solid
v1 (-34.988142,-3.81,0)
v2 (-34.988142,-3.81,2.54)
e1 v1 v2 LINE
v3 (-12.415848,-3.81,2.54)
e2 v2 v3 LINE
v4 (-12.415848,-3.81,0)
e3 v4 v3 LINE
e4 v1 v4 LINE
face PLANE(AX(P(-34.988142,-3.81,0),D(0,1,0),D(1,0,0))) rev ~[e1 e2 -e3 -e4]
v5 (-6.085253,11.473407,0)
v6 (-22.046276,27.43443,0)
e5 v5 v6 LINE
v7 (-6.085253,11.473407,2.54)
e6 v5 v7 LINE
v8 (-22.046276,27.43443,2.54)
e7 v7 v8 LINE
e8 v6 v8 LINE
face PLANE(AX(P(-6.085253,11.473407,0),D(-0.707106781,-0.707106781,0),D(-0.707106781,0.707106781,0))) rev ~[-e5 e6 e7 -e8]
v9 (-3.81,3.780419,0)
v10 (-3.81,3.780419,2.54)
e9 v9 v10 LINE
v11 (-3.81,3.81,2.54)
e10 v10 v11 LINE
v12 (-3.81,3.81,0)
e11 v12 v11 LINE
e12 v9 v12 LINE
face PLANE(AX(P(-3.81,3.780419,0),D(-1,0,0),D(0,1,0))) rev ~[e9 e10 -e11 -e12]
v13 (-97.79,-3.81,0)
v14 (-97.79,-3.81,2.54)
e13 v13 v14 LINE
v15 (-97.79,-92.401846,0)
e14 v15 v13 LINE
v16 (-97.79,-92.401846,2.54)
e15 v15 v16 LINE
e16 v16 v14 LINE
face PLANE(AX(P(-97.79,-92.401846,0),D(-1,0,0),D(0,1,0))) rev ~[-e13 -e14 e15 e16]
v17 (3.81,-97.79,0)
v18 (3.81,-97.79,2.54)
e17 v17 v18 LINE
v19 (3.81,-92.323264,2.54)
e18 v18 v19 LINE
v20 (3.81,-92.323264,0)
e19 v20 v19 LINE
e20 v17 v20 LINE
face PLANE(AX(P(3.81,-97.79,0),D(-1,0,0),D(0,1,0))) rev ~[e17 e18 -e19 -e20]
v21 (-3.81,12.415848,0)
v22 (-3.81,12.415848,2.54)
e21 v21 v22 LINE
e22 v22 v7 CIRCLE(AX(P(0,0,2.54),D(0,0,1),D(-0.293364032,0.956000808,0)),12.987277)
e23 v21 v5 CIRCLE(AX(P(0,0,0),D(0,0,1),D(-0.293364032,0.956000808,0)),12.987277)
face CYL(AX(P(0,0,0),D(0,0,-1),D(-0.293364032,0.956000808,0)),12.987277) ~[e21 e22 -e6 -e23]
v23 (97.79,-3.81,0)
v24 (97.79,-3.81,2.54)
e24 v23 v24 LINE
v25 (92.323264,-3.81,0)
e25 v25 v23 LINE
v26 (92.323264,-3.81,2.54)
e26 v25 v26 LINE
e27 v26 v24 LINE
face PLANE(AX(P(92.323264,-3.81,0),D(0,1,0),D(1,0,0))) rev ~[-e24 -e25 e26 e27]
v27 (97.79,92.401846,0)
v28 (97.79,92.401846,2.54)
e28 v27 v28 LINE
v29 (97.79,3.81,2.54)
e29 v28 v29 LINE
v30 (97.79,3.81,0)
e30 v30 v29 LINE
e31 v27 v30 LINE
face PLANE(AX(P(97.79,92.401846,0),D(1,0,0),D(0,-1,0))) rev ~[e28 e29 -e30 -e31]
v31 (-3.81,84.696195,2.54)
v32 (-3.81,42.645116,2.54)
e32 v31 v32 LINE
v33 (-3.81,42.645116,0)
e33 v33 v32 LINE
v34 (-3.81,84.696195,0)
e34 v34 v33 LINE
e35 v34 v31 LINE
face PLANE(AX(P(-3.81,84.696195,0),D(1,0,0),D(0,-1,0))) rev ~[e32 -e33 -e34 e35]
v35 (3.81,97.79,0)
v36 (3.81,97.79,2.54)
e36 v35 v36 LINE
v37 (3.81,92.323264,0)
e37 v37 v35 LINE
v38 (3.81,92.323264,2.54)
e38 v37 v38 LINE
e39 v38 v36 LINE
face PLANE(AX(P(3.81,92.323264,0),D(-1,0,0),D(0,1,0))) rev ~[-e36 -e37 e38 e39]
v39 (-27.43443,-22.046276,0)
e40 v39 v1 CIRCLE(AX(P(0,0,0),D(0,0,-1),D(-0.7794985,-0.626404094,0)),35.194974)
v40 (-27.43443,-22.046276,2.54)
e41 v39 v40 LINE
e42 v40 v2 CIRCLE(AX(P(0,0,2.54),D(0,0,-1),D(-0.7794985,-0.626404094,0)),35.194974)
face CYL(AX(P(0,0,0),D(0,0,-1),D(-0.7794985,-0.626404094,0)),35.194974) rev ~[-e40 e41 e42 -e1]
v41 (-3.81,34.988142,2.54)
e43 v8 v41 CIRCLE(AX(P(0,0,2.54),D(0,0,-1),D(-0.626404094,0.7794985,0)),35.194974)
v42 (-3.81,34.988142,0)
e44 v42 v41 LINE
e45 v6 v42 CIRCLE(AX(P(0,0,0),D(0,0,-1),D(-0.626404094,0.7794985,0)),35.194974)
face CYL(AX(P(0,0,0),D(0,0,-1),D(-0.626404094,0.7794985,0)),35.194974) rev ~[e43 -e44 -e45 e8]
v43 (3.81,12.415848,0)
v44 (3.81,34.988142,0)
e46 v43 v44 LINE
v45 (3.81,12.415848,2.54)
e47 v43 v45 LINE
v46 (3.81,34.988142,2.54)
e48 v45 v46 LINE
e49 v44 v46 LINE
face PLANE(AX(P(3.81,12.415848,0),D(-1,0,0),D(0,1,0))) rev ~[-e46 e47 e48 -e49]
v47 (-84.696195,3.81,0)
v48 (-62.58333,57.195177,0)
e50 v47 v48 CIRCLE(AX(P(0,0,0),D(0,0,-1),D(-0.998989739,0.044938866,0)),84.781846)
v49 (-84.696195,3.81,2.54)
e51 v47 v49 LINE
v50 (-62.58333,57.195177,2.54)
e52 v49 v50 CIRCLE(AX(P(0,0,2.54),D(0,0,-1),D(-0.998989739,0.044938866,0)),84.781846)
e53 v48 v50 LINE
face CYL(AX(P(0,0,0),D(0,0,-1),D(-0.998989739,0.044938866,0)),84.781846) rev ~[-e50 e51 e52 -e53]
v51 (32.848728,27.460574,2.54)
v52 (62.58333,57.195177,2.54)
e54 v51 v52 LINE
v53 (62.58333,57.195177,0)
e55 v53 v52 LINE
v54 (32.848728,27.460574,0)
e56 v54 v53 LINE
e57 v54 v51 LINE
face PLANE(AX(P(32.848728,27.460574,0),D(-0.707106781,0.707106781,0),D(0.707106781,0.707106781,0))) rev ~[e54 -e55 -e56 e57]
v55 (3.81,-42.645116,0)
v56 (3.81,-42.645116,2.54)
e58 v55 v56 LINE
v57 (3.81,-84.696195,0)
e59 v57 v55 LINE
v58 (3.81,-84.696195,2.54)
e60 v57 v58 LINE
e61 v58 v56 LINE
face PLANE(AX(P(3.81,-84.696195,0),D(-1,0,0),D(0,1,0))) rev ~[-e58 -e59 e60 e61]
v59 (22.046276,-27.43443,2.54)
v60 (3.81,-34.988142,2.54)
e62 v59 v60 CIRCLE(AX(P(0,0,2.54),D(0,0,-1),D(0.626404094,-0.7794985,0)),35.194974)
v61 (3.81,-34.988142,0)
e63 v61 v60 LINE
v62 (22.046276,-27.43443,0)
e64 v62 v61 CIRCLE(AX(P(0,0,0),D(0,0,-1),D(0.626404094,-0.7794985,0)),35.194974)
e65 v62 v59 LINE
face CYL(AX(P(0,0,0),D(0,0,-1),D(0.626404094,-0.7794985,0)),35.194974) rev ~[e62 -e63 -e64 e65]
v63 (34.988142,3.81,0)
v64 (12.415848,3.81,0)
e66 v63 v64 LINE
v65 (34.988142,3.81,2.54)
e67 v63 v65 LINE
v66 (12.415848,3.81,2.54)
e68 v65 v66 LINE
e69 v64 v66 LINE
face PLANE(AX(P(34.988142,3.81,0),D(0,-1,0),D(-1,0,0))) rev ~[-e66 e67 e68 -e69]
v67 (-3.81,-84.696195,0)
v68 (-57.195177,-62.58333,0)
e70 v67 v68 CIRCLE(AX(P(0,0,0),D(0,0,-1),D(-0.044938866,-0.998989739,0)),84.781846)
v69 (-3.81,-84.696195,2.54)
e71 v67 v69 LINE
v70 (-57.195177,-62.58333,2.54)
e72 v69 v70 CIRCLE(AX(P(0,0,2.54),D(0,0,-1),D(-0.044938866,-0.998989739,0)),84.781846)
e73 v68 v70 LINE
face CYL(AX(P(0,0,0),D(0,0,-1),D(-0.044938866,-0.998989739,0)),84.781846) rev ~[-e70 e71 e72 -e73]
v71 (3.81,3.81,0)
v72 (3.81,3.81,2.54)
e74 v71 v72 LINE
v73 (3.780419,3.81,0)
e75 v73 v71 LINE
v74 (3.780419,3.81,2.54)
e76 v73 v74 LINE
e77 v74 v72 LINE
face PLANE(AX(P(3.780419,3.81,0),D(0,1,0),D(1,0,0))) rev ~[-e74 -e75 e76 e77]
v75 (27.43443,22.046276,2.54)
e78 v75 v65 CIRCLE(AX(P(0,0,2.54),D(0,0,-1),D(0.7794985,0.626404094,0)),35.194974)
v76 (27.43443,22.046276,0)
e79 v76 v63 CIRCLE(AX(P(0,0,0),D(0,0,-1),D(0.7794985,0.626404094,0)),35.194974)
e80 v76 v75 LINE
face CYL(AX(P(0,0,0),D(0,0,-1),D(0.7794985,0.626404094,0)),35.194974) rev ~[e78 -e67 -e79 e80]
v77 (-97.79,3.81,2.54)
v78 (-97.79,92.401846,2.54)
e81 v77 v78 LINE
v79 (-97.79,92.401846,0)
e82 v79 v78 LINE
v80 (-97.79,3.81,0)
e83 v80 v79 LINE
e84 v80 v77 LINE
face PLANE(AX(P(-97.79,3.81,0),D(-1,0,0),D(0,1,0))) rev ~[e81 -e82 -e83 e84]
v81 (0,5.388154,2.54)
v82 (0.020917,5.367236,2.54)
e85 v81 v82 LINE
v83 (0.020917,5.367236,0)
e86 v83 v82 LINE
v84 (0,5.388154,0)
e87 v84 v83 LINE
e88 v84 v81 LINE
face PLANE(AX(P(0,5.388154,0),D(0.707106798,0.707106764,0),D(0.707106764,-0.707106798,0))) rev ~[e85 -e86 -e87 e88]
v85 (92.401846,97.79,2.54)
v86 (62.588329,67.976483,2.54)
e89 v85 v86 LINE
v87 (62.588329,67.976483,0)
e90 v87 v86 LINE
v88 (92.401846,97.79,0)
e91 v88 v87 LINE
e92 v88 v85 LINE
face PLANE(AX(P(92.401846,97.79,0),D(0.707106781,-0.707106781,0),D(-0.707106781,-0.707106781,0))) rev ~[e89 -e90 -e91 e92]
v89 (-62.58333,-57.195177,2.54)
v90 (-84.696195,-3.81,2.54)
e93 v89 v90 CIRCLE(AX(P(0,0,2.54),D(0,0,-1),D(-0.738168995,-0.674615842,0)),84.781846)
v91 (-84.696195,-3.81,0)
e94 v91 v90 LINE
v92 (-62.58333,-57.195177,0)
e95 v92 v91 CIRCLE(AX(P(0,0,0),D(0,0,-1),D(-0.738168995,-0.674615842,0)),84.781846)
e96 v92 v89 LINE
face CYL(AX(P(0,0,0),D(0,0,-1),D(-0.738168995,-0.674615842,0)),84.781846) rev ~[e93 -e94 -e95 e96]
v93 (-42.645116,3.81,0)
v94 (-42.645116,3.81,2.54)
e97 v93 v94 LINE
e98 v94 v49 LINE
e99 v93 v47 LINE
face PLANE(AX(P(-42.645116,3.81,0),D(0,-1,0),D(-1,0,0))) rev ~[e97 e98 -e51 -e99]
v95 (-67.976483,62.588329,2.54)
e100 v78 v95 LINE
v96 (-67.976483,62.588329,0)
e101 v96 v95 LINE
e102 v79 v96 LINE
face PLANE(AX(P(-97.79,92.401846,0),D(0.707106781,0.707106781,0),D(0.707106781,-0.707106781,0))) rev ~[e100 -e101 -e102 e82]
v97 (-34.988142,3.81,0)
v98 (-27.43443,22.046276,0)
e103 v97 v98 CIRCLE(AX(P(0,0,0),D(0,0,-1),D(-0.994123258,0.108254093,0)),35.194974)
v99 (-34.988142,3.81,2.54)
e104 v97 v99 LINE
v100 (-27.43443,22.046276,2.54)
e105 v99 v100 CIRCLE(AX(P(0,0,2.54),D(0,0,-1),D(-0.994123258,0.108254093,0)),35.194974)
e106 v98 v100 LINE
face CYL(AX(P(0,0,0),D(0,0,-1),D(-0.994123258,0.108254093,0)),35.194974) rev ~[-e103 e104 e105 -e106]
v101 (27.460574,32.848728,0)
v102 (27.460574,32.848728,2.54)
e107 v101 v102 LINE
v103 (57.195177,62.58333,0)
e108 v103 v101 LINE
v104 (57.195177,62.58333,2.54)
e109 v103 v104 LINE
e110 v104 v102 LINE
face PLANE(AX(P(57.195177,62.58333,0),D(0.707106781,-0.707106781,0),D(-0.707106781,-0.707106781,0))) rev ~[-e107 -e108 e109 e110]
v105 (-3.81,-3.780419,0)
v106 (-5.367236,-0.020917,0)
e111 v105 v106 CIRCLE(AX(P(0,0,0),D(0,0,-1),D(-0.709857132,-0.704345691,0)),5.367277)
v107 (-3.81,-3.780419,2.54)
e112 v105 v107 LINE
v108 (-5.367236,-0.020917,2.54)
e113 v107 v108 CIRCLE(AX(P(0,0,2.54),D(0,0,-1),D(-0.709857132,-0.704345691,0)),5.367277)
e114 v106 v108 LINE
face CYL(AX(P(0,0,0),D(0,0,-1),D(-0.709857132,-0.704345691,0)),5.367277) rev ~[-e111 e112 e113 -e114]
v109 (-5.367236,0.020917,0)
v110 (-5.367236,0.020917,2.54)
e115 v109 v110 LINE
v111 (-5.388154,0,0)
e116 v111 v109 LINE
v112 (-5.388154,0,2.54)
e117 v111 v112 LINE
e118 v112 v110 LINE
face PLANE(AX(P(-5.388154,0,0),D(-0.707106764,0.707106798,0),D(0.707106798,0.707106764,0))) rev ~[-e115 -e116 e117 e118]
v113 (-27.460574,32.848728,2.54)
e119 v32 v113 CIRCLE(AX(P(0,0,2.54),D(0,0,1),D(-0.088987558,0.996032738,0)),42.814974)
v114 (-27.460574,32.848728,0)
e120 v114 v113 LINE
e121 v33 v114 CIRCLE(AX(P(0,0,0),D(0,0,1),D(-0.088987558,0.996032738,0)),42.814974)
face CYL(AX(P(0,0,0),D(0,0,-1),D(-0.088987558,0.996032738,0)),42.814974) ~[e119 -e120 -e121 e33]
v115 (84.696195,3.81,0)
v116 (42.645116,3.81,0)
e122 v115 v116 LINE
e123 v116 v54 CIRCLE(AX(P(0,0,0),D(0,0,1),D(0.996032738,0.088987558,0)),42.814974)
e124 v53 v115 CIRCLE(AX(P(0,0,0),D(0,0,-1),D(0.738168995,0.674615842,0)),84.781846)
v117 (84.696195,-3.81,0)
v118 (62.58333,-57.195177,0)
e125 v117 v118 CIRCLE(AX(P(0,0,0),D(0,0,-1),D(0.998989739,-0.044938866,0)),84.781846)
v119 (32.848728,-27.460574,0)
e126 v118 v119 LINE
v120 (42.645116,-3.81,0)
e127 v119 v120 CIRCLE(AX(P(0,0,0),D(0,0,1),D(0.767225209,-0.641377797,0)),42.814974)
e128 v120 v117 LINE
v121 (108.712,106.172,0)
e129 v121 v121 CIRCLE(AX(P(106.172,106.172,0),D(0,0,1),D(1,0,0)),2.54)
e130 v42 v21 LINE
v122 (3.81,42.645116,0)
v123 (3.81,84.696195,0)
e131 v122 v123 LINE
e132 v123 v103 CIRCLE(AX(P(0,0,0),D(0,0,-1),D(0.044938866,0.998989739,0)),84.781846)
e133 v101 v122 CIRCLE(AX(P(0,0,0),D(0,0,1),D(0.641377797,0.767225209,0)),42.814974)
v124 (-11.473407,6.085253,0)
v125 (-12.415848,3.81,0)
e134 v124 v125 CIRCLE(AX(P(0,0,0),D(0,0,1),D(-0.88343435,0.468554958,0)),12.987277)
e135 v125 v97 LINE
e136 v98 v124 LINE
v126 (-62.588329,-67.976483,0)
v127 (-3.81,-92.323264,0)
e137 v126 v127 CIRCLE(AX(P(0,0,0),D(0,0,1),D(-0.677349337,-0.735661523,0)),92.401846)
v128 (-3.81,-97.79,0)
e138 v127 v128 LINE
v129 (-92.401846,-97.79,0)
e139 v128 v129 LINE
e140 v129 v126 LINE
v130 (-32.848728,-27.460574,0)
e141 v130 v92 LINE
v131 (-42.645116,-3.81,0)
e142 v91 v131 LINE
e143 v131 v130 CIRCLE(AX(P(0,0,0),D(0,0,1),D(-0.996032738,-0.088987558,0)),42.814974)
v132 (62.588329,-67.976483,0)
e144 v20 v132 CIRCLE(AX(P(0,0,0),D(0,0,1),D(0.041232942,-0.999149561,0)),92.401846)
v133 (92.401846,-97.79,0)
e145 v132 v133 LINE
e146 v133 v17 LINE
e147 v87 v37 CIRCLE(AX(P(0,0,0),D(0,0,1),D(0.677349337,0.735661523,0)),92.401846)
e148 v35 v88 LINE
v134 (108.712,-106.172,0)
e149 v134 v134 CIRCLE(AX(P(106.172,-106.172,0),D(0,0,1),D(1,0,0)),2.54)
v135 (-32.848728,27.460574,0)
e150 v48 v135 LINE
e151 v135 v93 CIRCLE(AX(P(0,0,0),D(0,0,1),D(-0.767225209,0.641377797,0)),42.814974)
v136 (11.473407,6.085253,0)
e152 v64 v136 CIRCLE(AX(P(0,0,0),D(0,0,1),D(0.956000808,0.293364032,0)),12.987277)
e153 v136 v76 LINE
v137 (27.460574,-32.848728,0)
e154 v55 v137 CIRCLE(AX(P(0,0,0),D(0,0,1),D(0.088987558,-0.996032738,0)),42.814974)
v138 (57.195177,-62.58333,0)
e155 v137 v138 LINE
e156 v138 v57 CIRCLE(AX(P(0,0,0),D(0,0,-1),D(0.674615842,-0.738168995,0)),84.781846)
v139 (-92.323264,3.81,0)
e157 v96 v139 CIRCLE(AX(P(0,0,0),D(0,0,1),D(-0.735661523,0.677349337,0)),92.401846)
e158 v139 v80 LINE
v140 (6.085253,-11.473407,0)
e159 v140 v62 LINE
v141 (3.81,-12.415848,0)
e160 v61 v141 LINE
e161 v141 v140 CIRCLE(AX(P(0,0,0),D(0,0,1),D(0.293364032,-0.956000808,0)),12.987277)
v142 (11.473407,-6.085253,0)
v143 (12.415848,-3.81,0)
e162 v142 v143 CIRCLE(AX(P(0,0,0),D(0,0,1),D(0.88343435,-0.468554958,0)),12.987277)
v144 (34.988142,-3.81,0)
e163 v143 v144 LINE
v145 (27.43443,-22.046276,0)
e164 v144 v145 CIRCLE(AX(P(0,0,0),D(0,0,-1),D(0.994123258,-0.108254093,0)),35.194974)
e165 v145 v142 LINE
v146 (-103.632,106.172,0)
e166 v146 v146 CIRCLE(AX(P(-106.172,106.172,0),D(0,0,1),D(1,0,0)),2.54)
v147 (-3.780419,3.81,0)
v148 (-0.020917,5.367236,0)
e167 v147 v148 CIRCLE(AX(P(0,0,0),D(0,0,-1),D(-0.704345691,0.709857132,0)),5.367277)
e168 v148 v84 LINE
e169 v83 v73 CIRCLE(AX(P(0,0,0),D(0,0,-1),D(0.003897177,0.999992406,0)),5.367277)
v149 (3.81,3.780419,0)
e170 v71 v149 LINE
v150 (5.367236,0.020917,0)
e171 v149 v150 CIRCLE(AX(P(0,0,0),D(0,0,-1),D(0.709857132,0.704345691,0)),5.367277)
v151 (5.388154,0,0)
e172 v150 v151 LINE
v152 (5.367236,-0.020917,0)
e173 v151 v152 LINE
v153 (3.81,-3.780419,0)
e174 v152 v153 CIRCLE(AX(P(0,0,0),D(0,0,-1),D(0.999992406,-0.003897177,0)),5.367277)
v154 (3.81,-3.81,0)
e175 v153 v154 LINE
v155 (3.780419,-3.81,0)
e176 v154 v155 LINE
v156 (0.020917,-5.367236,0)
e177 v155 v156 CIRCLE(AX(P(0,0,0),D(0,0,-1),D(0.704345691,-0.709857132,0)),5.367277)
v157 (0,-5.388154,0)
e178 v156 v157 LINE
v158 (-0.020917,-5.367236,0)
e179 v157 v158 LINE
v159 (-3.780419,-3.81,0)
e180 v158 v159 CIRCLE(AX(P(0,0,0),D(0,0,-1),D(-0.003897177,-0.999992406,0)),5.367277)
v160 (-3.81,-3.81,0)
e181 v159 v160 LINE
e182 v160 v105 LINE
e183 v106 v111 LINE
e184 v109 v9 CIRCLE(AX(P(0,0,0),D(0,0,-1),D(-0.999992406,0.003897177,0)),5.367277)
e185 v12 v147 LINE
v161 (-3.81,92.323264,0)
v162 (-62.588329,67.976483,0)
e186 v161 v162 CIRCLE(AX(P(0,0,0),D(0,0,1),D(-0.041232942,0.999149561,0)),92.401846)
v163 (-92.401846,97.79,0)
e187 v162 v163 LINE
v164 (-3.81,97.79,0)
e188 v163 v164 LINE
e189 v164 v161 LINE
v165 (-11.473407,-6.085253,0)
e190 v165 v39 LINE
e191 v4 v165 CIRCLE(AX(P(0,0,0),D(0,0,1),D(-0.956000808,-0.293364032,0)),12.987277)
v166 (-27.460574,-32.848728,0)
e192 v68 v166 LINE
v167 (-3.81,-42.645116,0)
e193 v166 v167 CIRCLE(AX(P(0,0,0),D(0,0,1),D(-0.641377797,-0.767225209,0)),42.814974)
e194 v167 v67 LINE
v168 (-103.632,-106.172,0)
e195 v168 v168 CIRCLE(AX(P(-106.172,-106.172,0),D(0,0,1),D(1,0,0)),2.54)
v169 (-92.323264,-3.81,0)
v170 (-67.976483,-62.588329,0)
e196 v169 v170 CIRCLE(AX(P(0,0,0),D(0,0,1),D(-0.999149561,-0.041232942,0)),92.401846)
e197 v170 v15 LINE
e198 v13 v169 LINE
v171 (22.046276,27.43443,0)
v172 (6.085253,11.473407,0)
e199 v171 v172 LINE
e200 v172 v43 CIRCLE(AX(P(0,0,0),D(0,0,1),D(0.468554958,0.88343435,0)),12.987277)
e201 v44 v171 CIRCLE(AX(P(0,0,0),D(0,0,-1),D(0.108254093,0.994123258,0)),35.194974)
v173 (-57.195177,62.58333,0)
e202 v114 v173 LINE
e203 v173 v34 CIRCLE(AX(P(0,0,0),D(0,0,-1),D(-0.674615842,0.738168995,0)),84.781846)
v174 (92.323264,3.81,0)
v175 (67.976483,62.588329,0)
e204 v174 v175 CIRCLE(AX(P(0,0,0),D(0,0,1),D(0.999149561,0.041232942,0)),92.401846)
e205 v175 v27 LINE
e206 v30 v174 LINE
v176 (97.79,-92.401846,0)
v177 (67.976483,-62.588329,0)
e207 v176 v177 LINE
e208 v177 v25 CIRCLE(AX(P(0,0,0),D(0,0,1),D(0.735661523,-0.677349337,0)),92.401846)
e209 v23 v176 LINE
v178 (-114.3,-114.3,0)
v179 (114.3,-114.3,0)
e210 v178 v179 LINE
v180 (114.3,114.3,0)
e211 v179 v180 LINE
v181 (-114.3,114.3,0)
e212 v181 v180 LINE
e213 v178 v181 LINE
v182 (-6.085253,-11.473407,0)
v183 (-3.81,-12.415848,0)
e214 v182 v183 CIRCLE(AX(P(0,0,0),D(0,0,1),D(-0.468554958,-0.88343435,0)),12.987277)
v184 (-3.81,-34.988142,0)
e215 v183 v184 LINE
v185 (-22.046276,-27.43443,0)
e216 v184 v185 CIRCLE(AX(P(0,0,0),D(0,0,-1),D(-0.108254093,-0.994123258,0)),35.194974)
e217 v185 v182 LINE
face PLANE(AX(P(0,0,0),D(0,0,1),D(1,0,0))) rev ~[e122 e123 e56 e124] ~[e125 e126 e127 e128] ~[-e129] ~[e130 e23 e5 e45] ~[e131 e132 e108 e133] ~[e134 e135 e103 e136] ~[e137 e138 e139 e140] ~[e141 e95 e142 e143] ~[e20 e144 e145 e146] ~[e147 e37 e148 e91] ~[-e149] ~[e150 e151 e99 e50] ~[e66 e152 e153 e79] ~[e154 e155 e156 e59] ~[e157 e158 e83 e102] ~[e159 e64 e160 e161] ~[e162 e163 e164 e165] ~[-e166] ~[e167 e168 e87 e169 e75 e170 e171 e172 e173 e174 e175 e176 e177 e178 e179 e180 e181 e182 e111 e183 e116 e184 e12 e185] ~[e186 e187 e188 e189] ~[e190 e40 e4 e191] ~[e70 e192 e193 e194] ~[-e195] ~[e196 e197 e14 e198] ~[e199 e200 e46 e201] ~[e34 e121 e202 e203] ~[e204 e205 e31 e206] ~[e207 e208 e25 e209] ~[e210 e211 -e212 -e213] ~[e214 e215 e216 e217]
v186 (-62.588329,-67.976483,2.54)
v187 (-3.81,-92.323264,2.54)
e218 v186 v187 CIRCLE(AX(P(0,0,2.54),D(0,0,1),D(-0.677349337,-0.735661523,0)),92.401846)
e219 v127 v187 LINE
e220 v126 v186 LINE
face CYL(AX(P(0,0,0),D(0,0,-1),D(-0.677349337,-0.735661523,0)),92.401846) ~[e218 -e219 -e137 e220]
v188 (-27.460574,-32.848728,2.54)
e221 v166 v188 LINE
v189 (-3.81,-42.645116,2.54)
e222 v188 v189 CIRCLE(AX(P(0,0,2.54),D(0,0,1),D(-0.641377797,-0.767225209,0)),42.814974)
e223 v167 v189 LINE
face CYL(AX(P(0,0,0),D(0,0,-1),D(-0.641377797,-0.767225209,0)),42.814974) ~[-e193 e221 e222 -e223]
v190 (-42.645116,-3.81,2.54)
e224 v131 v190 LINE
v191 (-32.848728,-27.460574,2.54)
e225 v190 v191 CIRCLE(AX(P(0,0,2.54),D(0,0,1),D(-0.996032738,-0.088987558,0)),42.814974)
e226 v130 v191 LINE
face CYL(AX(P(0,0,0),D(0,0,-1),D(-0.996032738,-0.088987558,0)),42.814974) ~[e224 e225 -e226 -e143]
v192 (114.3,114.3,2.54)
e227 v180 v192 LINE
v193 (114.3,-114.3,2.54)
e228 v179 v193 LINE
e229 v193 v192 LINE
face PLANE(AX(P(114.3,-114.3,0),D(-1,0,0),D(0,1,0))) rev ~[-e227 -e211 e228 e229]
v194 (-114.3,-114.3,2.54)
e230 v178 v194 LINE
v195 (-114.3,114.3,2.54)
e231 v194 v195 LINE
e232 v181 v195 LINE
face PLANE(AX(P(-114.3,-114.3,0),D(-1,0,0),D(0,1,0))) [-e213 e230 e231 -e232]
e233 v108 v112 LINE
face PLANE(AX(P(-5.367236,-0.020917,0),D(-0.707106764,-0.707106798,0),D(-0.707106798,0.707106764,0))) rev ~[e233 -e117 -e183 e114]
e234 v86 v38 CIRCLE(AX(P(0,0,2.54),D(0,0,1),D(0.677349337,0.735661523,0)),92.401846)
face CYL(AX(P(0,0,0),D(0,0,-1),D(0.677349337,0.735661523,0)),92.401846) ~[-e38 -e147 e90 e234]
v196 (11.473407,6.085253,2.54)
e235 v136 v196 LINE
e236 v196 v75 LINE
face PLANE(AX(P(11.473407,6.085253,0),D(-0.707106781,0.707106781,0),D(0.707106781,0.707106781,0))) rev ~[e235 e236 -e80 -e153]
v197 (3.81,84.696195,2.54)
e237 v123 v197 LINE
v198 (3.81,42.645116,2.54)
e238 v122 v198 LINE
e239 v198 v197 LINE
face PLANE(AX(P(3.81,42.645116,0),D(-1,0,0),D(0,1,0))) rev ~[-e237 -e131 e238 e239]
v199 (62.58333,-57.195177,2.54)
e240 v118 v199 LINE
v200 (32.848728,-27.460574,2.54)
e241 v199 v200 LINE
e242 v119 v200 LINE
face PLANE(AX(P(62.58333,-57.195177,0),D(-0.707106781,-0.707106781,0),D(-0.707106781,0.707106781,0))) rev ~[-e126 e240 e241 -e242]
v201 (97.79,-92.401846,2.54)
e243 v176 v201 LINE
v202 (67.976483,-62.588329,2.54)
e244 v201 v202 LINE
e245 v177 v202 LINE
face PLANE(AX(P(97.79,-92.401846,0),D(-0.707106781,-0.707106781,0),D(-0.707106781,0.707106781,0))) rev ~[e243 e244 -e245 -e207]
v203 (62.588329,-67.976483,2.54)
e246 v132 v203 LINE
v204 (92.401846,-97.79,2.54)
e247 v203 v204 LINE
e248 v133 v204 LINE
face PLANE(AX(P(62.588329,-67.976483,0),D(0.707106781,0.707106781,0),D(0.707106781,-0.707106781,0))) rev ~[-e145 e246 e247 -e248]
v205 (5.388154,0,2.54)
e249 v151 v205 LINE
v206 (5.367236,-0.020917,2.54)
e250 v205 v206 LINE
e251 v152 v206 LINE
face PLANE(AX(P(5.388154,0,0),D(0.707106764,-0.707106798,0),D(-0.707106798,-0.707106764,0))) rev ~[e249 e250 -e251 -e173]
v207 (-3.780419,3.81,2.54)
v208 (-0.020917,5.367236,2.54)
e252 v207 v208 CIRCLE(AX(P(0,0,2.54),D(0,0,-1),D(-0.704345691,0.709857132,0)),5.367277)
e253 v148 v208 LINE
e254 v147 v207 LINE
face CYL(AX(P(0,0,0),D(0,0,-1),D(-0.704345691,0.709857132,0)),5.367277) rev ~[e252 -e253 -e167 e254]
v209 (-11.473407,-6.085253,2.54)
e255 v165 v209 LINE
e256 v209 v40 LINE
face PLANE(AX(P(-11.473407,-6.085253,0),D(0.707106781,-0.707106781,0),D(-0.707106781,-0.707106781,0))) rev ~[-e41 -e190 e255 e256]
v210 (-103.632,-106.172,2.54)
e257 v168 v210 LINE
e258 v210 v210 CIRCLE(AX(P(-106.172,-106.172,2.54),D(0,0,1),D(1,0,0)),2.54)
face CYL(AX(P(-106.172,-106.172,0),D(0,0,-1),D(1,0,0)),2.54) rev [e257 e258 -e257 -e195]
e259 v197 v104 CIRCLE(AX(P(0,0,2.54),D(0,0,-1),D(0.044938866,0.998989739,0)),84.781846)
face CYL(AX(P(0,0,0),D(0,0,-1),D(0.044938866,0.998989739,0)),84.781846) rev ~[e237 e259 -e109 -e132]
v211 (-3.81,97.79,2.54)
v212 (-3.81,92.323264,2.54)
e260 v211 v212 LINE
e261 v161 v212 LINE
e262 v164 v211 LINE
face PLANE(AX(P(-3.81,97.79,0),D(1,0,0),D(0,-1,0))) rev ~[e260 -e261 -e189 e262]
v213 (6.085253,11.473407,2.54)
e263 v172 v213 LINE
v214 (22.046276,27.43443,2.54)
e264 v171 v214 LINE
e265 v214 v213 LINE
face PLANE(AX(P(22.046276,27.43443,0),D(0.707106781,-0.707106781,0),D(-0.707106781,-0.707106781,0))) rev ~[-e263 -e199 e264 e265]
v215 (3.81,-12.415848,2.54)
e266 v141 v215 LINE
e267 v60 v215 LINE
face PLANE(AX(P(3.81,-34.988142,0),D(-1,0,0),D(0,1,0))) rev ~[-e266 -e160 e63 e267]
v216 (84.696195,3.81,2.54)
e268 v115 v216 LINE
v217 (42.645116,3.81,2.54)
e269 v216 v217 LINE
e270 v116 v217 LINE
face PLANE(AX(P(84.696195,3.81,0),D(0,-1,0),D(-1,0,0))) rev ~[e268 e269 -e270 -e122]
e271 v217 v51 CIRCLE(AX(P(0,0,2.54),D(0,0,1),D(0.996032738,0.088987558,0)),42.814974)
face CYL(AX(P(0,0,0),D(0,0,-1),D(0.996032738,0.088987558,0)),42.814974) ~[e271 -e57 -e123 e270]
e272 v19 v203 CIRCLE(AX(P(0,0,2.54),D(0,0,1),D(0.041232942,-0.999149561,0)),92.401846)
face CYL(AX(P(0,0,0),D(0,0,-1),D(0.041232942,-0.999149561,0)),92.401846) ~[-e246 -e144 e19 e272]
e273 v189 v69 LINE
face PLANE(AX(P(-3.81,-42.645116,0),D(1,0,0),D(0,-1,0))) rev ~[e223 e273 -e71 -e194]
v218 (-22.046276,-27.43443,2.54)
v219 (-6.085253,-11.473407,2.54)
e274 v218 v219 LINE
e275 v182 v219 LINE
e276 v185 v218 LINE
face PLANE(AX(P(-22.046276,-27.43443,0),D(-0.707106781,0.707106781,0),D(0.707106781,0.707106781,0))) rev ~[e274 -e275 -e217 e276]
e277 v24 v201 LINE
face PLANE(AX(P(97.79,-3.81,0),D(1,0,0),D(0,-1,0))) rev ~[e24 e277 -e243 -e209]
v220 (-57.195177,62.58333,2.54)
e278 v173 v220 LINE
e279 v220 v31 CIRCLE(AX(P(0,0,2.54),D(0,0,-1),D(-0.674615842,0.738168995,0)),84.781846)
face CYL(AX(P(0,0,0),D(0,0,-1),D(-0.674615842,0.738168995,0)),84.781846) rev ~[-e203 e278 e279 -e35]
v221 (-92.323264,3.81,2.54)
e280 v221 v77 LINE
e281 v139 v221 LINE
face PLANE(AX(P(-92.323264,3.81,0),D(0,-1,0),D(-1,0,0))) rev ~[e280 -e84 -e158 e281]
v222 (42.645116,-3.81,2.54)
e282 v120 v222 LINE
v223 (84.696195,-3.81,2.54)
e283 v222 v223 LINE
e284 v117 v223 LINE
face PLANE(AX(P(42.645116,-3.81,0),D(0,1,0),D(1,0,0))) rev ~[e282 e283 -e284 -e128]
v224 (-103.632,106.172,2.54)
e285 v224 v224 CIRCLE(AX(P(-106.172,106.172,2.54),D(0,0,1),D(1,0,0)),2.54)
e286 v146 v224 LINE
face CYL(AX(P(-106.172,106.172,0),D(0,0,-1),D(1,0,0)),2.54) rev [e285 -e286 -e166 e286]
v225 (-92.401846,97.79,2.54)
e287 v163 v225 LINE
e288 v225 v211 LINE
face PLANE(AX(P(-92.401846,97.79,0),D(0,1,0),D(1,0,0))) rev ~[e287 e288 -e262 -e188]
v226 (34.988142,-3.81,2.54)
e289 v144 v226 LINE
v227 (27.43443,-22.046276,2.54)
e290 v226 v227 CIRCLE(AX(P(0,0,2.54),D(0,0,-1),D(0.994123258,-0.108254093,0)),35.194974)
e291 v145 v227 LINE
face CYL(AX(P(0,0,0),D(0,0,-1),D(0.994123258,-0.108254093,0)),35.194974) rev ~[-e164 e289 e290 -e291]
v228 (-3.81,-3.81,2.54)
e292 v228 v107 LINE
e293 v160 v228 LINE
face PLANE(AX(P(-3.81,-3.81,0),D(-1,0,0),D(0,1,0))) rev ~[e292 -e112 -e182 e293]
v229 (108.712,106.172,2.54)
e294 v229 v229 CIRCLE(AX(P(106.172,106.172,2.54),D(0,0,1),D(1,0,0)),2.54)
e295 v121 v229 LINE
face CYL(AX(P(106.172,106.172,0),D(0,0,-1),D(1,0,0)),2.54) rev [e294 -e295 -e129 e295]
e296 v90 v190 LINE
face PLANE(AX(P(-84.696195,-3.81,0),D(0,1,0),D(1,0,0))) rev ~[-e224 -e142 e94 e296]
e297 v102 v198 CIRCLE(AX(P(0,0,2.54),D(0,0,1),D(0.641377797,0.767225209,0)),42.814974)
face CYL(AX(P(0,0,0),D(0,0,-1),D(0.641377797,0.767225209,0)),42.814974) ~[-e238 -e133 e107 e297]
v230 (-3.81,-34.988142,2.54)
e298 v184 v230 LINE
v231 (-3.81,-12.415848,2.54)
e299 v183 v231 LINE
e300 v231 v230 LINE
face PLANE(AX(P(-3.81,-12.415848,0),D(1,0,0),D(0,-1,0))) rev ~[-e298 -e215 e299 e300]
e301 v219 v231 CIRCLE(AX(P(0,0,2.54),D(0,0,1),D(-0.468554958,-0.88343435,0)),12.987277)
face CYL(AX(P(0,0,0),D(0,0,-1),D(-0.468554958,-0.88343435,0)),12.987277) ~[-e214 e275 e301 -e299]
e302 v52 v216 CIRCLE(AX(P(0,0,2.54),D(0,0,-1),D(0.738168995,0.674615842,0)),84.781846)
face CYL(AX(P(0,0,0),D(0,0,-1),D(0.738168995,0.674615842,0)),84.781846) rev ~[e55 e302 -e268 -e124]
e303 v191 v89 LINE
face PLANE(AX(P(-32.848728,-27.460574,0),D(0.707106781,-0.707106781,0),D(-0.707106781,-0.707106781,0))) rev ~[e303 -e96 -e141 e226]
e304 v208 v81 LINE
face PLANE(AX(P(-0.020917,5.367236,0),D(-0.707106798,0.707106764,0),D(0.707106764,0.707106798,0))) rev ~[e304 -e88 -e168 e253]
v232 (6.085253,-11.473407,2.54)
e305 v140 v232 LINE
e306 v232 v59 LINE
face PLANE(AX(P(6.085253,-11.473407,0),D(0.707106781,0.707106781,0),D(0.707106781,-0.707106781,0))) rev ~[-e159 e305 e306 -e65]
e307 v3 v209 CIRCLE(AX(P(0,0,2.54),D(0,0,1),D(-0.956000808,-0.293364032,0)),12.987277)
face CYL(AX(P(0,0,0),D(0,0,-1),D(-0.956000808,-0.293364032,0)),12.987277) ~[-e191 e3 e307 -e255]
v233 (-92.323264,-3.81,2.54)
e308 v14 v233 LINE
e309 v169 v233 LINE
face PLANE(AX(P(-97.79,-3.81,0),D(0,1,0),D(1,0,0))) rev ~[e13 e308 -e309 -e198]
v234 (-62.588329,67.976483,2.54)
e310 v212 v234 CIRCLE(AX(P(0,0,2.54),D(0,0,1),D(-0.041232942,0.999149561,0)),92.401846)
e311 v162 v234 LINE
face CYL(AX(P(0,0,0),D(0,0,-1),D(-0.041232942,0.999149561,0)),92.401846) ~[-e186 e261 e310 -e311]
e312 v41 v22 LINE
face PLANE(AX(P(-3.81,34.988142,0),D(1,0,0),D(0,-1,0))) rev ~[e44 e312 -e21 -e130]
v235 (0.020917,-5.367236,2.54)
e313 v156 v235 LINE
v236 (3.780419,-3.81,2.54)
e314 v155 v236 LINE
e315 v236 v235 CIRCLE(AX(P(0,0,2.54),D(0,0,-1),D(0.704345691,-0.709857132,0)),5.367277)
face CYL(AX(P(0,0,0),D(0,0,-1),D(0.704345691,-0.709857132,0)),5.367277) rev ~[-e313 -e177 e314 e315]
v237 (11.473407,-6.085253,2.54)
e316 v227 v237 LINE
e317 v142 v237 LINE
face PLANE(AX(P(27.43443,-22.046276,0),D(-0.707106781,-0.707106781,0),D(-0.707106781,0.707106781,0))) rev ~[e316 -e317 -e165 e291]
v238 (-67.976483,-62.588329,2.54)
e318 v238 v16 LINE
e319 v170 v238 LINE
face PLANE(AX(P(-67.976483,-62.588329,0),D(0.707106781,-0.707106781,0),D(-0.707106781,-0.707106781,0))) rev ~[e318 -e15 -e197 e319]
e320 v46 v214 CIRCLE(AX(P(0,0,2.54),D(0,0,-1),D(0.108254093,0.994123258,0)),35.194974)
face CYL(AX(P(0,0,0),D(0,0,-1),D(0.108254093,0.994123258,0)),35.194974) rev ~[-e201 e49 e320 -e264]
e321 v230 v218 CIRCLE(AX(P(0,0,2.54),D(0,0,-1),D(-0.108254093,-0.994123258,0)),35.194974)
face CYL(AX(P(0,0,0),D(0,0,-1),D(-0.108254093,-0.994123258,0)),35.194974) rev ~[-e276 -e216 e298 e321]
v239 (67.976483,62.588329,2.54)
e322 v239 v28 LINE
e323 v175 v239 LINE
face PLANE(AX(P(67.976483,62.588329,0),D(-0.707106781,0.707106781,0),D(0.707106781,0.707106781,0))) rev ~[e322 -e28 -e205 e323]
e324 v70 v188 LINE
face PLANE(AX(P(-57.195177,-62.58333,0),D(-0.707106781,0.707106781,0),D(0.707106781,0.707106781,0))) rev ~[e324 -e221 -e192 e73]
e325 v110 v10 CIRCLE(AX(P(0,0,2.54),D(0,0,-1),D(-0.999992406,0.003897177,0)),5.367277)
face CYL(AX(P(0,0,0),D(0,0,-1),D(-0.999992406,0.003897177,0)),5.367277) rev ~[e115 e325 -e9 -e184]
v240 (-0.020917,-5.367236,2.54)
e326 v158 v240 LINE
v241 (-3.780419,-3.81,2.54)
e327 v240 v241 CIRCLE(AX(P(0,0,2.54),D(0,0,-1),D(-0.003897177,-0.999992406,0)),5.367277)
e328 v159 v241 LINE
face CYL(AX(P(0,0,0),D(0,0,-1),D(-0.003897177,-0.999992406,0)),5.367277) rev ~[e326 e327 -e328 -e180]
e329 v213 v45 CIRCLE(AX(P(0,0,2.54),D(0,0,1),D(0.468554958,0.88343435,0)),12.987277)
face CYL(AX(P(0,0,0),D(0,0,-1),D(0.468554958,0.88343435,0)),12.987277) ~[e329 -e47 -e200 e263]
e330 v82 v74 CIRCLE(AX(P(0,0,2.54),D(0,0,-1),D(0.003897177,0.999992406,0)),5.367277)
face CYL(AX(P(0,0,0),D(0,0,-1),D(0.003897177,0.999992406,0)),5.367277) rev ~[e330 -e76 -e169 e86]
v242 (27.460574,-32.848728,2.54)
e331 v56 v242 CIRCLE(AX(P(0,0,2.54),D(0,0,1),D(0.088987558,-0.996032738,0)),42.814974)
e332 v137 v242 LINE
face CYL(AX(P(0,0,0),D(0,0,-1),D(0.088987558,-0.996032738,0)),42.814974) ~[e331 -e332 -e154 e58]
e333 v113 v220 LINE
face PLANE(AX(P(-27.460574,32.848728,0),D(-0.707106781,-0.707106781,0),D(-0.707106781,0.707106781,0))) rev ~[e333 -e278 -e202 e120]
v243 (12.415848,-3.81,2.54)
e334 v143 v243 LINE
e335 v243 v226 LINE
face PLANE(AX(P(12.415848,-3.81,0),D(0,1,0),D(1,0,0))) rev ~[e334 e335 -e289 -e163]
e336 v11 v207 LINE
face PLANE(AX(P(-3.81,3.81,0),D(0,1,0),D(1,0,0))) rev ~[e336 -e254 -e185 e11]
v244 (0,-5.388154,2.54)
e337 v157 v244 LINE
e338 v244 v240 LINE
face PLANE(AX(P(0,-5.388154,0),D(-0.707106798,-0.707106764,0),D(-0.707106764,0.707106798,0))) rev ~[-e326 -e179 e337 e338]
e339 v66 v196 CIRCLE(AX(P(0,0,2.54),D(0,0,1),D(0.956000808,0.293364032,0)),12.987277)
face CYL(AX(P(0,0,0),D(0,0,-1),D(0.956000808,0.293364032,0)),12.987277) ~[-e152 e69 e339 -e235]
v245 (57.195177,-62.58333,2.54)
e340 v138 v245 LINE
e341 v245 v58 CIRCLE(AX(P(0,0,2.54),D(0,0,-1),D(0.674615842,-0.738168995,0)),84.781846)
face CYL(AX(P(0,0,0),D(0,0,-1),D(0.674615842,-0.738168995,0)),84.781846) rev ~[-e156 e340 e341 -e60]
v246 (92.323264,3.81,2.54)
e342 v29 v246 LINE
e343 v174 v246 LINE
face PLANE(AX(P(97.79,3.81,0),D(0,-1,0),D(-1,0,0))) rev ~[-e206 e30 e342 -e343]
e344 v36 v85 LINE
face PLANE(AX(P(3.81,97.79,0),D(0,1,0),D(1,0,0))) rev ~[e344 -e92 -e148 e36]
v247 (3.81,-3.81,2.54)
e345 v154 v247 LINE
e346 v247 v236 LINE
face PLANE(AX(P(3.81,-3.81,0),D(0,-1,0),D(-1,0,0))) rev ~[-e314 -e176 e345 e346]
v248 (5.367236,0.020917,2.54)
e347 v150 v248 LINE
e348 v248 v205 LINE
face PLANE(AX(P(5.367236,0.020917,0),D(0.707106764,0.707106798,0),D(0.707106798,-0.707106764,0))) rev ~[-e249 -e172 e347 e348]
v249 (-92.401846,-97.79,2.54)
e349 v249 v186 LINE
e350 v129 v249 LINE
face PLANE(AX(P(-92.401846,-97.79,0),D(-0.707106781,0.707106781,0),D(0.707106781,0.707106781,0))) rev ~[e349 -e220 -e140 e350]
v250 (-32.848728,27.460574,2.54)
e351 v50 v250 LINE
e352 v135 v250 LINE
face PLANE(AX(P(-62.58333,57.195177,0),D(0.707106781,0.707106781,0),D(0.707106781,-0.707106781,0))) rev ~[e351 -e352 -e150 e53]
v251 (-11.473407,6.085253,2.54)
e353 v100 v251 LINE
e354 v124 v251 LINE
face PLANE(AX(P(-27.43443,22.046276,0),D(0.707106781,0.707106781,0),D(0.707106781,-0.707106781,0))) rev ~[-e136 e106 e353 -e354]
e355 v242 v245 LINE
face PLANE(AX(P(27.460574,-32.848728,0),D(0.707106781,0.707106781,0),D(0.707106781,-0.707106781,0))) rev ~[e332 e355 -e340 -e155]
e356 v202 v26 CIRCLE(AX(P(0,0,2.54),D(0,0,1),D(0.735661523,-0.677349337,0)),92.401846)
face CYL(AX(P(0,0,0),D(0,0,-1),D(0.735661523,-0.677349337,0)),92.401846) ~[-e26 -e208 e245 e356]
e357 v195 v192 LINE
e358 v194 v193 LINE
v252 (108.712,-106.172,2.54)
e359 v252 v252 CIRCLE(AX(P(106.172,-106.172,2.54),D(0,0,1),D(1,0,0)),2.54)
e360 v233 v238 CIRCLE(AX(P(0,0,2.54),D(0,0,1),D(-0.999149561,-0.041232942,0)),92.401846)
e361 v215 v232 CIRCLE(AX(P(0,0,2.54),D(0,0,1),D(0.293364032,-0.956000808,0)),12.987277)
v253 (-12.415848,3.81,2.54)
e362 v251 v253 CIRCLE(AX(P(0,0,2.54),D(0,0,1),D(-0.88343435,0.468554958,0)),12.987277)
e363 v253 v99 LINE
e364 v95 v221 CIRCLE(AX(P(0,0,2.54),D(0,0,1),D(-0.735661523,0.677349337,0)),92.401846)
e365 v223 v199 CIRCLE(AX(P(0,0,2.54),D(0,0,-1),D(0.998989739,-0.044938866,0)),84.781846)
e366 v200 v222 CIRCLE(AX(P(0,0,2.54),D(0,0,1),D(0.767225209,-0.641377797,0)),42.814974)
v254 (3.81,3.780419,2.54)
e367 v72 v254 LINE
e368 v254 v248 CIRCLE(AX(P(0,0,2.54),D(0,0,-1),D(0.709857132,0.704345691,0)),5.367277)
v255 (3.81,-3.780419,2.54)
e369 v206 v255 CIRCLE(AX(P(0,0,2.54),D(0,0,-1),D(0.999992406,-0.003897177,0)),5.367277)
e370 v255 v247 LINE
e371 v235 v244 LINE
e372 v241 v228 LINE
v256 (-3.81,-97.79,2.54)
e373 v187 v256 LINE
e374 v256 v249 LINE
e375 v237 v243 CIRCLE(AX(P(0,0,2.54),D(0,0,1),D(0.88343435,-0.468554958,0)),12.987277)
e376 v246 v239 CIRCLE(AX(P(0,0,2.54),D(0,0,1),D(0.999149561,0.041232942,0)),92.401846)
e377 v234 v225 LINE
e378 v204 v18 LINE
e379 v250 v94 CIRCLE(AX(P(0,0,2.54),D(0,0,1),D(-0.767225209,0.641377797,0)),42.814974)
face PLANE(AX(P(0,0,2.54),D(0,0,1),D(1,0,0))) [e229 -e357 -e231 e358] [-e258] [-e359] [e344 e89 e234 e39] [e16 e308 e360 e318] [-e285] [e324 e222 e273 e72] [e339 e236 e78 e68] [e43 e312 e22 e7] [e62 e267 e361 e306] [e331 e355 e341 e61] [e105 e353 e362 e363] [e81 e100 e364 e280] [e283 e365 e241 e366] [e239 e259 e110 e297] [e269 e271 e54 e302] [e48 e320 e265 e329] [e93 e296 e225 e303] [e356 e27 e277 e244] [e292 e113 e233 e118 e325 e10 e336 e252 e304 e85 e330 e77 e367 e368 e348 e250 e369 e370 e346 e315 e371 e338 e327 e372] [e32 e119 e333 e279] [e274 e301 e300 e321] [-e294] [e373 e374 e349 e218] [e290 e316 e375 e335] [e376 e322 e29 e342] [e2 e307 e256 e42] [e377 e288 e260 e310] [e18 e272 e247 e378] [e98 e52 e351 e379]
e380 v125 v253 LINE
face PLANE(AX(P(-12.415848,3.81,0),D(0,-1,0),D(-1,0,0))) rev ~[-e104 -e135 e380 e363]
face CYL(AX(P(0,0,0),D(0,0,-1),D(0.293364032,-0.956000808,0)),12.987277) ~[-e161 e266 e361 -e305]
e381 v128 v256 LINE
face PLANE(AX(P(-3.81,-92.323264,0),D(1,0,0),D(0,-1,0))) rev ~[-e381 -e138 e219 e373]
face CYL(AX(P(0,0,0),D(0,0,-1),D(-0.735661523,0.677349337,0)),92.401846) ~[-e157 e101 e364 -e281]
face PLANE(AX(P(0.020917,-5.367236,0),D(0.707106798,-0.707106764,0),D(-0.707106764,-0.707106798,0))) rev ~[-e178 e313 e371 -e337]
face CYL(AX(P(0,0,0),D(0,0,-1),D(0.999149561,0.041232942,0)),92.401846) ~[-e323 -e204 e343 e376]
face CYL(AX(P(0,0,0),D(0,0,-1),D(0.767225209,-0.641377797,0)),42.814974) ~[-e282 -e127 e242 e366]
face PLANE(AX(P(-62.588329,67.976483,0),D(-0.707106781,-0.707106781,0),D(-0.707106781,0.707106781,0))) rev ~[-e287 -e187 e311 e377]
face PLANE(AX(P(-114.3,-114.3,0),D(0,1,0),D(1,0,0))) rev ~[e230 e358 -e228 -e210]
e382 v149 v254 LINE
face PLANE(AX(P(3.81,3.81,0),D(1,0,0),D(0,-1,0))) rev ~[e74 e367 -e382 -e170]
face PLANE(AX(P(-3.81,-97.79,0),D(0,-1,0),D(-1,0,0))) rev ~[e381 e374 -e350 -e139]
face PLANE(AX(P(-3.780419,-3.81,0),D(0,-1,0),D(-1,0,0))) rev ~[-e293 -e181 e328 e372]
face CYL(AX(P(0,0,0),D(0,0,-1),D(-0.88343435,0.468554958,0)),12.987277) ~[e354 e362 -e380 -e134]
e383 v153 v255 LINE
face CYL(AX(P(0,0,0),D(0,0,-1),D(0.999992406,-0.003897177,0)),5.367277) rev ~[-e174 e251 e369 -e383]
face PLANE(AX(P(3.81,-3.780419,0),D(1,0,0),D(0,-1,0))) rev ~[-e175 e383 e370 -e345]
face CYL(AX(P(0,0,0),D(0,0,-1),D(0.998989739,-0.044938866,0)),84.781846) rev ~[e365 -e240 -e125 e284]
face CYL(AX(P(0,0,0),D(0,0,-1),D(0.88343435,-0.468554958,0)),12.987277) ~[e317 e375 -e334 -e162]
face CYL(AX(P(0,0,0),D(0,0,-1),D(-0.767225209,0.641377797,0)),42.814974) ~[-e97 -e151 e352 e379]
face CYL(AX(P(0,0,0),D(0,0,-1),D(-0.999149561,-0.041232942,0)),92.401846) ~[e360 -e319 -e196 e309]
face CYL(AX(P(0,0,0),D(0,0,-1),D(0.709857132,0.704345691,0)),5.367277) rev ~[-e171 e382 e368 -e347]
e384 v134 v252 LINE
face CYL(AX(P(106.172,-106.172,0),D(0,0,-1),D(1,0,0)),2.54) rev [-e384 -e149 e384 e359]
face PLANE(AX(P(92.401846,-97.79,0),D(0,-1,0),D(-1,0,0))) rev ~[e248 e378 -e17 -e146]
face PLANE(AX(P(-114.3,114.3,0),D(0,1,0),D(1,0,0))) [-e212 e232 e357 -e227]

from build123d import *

# Parameters (mm, degrees)
SKETCH1_W           = 228.6
SKETCH1_H           = 228.6
SKETCH1_R           = 2.54
BOSS_EXTRUDE1_DEPTH = 2.54


with BuildPart() as part:
    # Sketch1 → Boss-Extrude1 (new body)
    with BuildSketch(Plane.XY):
        Rectangle(SKETCH1_W, SKETCH1_H)
        with Locations((-106.172, -106.172)):
            Circle(SKETCH1_R, mode=Mode.SUBTRACT)
        with BuildLine():
            Line((-3.81, -97.79), (-92.401846327, -97.79))
            Line((-92.401846327, -97.79), (-62.588329311, -67.976482983))
            ThreePointArc((-62.588329311, -67.976482983), (-35.360655709, -85.368174588), (-3.81, -92.323264158))
            Line((-3.81, -92.323264158), (-3.81, -97.79))
        make_face(mode=Mode.SUBTRACT)
        with BuildLine():
            ThreePointArc((-3.81, -84.696194523), (-32.444607955, -78.32821255), (-57.195176652, -62.583330324))
            Line((-57.195176652, -62.583330324), (-27.460573831, -32.848727503))
            ThreePointArc((-27.460573831, -32.848727503), (-16.384581274, -39.555878326), (-3.81, -42.645115942))
            Line((-3.81, -42.645115942), (-3.81, -84.696194523))
        make_face(mode=Mode.SUBTRACT)
        with BuildLine():
            Line((-67.976482983, -62.588329311), (-97.79, -92.401846327))
            Line((-97.79, -92.401846327), (-97.79, -3.81))
            Line((-97.79, -3.81), (-92.323264158, -3.81))
            ThreePointArc((-92.323264158, -3.81), (-85.368174588, -35.360655709), (-67.976482983, -62.588329311))
        make_face(mode=Mode.SUBTRACT)
        with BuildLine():
            ThreePointArc((-62.583330324, -57.195176652), (-78.32821255, -32.444607955), (-84.696194523, -3.81))
            Line((-84.696194523, -3.81), (-42.645115942, -3.81))
            ThreePointArc((-42.645115942, -3.81), (-39.555878326, -16.384581274), (-32.848727503, -27.460573831))
            Line((-32.848727503, -27.460573831), (-62.583330324, -57.195176652))
        make_face(mode=Mode.SUBTRACT)
        with BuildLine():
            Line((-3.81, -12.415847502), (-3.81, -34.988142381))
            ThreePointArc((-3.81, -34.988142381), (-13.46853352, -32.515916289), (-22.046275902, -27.434429575))
            Line((-22.046275902, -27.434429575), (-6.085253126, -11.473406799))
            ThreePointArc((-6.085253126, -11.473406799), (-4.970015818, -11.998679592), (-3.81, -12.415847502))
        make_face(mode=Mode.SUBTRACT)
        with BuildLine():
            ThreePointArc((-27.434429575, -22.046275902), (-32.515916289, -13.46853352), (-34.988142381, -3.81))
            Line((-34.988142381, -3.81), (-12.415847502, -3.81))
            ThreePointArc((-12.415847502, -3.81), (-11.998679592, -4.970015818), (-11.473406799, -6.085253126))
            Line((-11.473406799, -6.085253126), (-27.434429575, -22.046275902))
        make_face(mode=Mode.SUBTRACT)
        with BuildLine():
            ThreePointArc((3.81, -92.323264158), (35.360655709, -85.368174588), (62.588329311, -67.976482983))
            Line((62.588329311, -67.976482983), (92.401846327, -97.79))
            Line((92.401846327, -97.79), (3.81, -97.79))
            Line((3.81, -97.79), (3.81, -92.323264158))
        make_face(mode=Mode.SUBTRACT)
        with BuildLine():
            ThreePointArc((3.81, -42.645115942), (16.384581274, -39.555878326), (27.460573831, -32.848727503))
            Line((27.460573831, -32.848727503), (57.195176652, -62.583330324))
            ThreePointArc((57.195176652, -62.583330324), (32.444607955, -78.32821255), (3.81, -84.696194523))
            Line((3.81, -84.696194523), (3.81, -42.645115942))
        make_face(mode=Mode.SUBTRACT)
        with Locations((106.172, -106.172)):
            Circle(SKETCH1_R, mode=Mode.SUBTRACT)
        with BuildLine():
            ThreePointArc((3.81, -12.415847502), (4.970015818, -11.998679592), (6.085253126, -11.473406799))
            Line((6.085253126, -11.473406799), (22.046275902, -27.434429575))
            ThreePointArc((22.046275902, -27.434429575), (13.46853352, -32.515916289), (3.81, -34.988142381))
            Line((3.81, -34.988142381), (3.81, -12.415847502))
        make_face(mode=Mode.SUBTRACT)
        with BuildLine():
            Line((27.434429575, -22.046275902), (11.473406799, -6.085253126))
            ThreePointArc((11.473406799, -6.085253126), (11.998679592, -4.970015818), (12.415847502, -3.81))
            Line((12.415847502, -3.81), (34.988142381, -3.81))
            ThreePointArc((34.988142381, -3.81), (32.515916289, -13.46853352), (27.434429575, -22.046275902))
        make_face(mode=Mode.SUBTRACT)
        with BuildLine():
            Line((97.79, -92.401846327), (67.976482983, -62.588329311))
            ThreePointArc((67.976482983, -62.588329311), (85.368174588, -35.360655709), (92.323264158, -3.81))
            Line((92.323264158, -3.81), (97.79, -3.81))
            Line((97.79, -3.81), (97.79, -92.401846327))
        make_face(mode=Mode.SUBTRACT)
        with BuildLine():
            ThreePointArc((32.848727503, -27.460573831), (39.555878326, -16.384581274), (42.645115942, -3.81))
            Line((42.645115942, -3.81), (84.696194523, -3.81))
            ThreePointArc((84.696194523, -3.81), (78.32821255, -32.444607955), (62.583330324, -57.195176652))
            Line((62.583330324, -57.195176652), (32.848727503, -27.460573831))
        make_face(mode=Mode.SUBTRACT)
        with BuildLine():
            Line((-42.645115942, 3.81), (-84.696194523, 3.81))
            ThreePointArc((-84.696194523, 3.81), (-78.32821255, 32.444607955), (-62.583330324, 57.195176652))
            Line((-62.583330324, 57.195176652), (-32.848727503, 27.460573831))
            ThreePointArc((-32.848727503, 27.460573831), (-39.555878326, 16.384581274), (-42.645115942, 3.81))
        make_face(mode=Mode.SUBTRACT)
        with BuildLine():
            Line((-97.79, 3.81), (-97.79, 92.401846327))
            Line((-97.79, 92.401846327), (-67.976482983, 62.588329311))
            ThreePointArc((-67.976482983, 62.588329311), (-85.368174588, 35.360655709), (-92.323264158, 3.81))
            Line((-92.323264158, 3.81), (-97.79, 3.81))
        make_face(mode=Mode.SUBTRACT)
        with BuildLine():
            ThreePointArc((-34.988142381, 3.81), (-32.515916289, 13.46853352), (-27.434429575, 22.046275902))
            Line((-27.434429575, 22.046275902), (-11.473406799, 6.085253126))
            ThreePointArc((-11.473406799, 6.085253126), (-11.998679592, 4.970015818), (-12.415847502, 3.81))
            Line((-12.415847502, 3.81), (-34.988142381, 3.81))
        make_face(mode=Mode.SUBTRACT)
        with BuildLine():
            Line((-3.81, 34.988142381), (-3.81, 12.415847502))
            ThreePointArc((-3.81, 12.415847502), (-4.970015818, 11.998679592), (-6.085253126, 11.473406799))
            Line((-6.085253126, 11.473406799), (-22.046275902, 27.434429575))
            ThreePointArc((-22.046275902, 27.434429575), (-13.46853352, 32.515916289), (-3.81, 34.988142381))
        make_face(mode=Mode.SUBTRACT)
        with Locations((-106.172, 106.172)):
            Circle(SKETCH1_R, mode=Mode.SUBTRACT)
        with BuildLine():
            Line((-27.460573831, 32.848727503), (-57.195176652, 62.583330324))
            ThreePointArc((-57.195176652, 62.583330324), (-32.444607955, 78.32821255), (-3.81, 84.696194523))
            Line((-3.81, 84.696194523), (-3.81, 42.645115942))
            ThreePointArc((-3.81, 42.645115942), (-16.384581274, 39.555878326), (-27.460573831, 32.848727503))
        make_face(mode=Mode.SUBTRACT)
        with BuildLine():
            Line((-62.588329311, 67.976482983), (-92.401846327, 97.79))
            Line((-92.401846327, 97.79), (-3.81, 97.79))
            Line((-3.81, 97.79), (-3.81, 92.323264158))
            ThreePointArc((-3.81, 92.323264158), (-35.360655709, 85.368174588), (-62.588329311, 67.976482983))
        make_face(mode=Mode.SUBTRACT)
        with BuildLine():
            Line((0.020917227, -5.367236445), (0, -5.388153673))
            Line((0, -5.388153673), (-0.020917227, -5.367236445))
            ThreePointArc((-0.020917227, -5.367236445), (-2.053968063, -4.958717554), (-3.780418573, -3.81))
            Line((-3.780418573, -3.81), (-3.81, -3.81))
            Line((-3.81, -3.81), (-3.81, -3.780418573))
            ThreePointArc((-3.81, -3.780418573), (-4.958717554, -2.053968063), (-5.367236445, -0.020917227))
            Line((-5.367236445, -0.020917227), (-5.388153673, 0))
            Line((-5.388153673, 0), (-5.367236445, 0.020917227))
            ThreePointArc((-5.367236445, 0.020917227), (-4.958717554, 2.053968063), (-3.81, 3.780418573))
            Line((-3.81, 3.780418573), (-3.81, 3.81))
            Line((-3.81, 3.81), (-3.780418573, 3.81))
            ThreePointArc((-3.780418573, 3.81), (-2.053968063, 4.958717554), (-0.020917227, 5.367236445))
            Line((-0.020917227, 5.367236445), (0, 5.388153673))
            Line((0, 5.388153673), (0.020917227, 5.367236445))
            ThreePointArc((0.020917227, 5.367236445), (2.053968063, 4.958717554), (3.780418573, 3.81))
            Line((3.780418573, 3.81), (3.81, 3.81))
            Line((3.81, 3.81), (3.81, 3.780418573))
            ThreePointArc((3.81, 3.780418573), (4.958717554, 2.053968063), (5.367236445, 0.020917227))
            Line((5.367236445, 0.020917227), (5.388153673, 0))
            Line((5.388153673, 0), (5.367236445, -0.020917227))
            ThreePointArc((5.367236445, -0.020917227), (4.958717554, -2.053968063), (3.81, -3.780418573))
            Line((3.81, -3.780418573), (3.81, -3.81))
            Line((3.81, -3.81), (3.780418573, -3.81))
            ThreePointArc((3.780418573, -3.81), (2.053968063, -4.958717554), (0.020917227, -5.367236445))
        make_face(mode=Mode.SUBTRACT)
        with BuildLine():
            Line((34.988142381, 3.81), (12.415847502, 3.81))
            ThreePointArc((12.415847502, 3.81), (11.998679592, 4.970015818), (11.473406799, 6.085253126))
            Line((11.473406799, 6.085253126), (27.434429575, 22.046275902))
            ThreePointArc((27.434429575, 22.046275902), (32.515916289, 13.46853352), (34.988142381, 3.81))
        make_face(mode=Mode.SUBTRACT)
        with BuildLine():
            Line((22.046275902, 27.434429575), (6.085253126, 11.473406799))
            ThreePointArc((6.085253126, 11.473406799), (4.970015818, 11.998679592), (3.81, 12.415847502))
            Line((3.81, 12.415847502), (3.81, 34.988142381))
            ThreePointArc((3.81, 34.988142381), (13.46853352, 32.515916289), (22.046275902, 27.434429575))
        make_face(mode=Mode.SUBTRACT)
        with BuildLine():
            ThreePointArc((42.645115942, 3.81), (39.555878326, 16.384581274), (32.848727503, 27.460573831))
            Line((32.848727503, 27.460573831), (62.583330324, 57.195176652))
            ThreePointArc((62.583330324, 57.195176652), (78.32821255, 32.444607955), (84.696194523, 3.81))
            Line((84.696194523, 3.81), (42.645115942, 3.81))
        make_face(mode=Mode.SUBTRACT)
        with BuildLine():
            Line((97.79, 92.401846327), (97.79, 3.81))
            Line((97.79, 3.81), (92.323264158, 3.81))
            ThreePointArc((92.323264158, 3.81), (85.368174588, 35.360655709), (67.976482983, 62.588329311))
            Line((67.976482983, 62.588329311), (97.79, 92.401846327))
        make_face(mode=Mode.SUBTRACT)
        with BuildLine():
            Line((57.195176652, 62.583330324), (27.460573831, 32.848727503))
            ThreePointArc((27.460573831, 32.848727503), (16.384581274, 39.555878326), (3.81, 42.645115942))
            Line((3.81, 42.645115942), (3.81, 84.696194523))
            ThreePointArc((3.81, 84.696194523), (32.444607955, 78.32821255), (57.195176652, 62.583330324))
        make_face(mode=Mode.SUBTRACT)
        with BuildLine():
            ThreePointArc((62.588329311, 67.976482983), (35.360655709, 85.368174588), (3.81, 92.323264158))
            Line((3.81, 92.323264158), (3.81, 97.79))
            Line((3.81, 97.79), (92.401846327, 97.79))
            Line((92.401846327, 97.79), (62.588329311, 67.976482983))
        make_face(mode=Mode.SUBTRACT)
        with Locations((106.172, 106.172)):
            Circle(SKETCH1_R, mode=Mode.SUBTRACT)
    extrude(amount=BOSS_EXTRUDE1_DEPTH)


solid = part.part
